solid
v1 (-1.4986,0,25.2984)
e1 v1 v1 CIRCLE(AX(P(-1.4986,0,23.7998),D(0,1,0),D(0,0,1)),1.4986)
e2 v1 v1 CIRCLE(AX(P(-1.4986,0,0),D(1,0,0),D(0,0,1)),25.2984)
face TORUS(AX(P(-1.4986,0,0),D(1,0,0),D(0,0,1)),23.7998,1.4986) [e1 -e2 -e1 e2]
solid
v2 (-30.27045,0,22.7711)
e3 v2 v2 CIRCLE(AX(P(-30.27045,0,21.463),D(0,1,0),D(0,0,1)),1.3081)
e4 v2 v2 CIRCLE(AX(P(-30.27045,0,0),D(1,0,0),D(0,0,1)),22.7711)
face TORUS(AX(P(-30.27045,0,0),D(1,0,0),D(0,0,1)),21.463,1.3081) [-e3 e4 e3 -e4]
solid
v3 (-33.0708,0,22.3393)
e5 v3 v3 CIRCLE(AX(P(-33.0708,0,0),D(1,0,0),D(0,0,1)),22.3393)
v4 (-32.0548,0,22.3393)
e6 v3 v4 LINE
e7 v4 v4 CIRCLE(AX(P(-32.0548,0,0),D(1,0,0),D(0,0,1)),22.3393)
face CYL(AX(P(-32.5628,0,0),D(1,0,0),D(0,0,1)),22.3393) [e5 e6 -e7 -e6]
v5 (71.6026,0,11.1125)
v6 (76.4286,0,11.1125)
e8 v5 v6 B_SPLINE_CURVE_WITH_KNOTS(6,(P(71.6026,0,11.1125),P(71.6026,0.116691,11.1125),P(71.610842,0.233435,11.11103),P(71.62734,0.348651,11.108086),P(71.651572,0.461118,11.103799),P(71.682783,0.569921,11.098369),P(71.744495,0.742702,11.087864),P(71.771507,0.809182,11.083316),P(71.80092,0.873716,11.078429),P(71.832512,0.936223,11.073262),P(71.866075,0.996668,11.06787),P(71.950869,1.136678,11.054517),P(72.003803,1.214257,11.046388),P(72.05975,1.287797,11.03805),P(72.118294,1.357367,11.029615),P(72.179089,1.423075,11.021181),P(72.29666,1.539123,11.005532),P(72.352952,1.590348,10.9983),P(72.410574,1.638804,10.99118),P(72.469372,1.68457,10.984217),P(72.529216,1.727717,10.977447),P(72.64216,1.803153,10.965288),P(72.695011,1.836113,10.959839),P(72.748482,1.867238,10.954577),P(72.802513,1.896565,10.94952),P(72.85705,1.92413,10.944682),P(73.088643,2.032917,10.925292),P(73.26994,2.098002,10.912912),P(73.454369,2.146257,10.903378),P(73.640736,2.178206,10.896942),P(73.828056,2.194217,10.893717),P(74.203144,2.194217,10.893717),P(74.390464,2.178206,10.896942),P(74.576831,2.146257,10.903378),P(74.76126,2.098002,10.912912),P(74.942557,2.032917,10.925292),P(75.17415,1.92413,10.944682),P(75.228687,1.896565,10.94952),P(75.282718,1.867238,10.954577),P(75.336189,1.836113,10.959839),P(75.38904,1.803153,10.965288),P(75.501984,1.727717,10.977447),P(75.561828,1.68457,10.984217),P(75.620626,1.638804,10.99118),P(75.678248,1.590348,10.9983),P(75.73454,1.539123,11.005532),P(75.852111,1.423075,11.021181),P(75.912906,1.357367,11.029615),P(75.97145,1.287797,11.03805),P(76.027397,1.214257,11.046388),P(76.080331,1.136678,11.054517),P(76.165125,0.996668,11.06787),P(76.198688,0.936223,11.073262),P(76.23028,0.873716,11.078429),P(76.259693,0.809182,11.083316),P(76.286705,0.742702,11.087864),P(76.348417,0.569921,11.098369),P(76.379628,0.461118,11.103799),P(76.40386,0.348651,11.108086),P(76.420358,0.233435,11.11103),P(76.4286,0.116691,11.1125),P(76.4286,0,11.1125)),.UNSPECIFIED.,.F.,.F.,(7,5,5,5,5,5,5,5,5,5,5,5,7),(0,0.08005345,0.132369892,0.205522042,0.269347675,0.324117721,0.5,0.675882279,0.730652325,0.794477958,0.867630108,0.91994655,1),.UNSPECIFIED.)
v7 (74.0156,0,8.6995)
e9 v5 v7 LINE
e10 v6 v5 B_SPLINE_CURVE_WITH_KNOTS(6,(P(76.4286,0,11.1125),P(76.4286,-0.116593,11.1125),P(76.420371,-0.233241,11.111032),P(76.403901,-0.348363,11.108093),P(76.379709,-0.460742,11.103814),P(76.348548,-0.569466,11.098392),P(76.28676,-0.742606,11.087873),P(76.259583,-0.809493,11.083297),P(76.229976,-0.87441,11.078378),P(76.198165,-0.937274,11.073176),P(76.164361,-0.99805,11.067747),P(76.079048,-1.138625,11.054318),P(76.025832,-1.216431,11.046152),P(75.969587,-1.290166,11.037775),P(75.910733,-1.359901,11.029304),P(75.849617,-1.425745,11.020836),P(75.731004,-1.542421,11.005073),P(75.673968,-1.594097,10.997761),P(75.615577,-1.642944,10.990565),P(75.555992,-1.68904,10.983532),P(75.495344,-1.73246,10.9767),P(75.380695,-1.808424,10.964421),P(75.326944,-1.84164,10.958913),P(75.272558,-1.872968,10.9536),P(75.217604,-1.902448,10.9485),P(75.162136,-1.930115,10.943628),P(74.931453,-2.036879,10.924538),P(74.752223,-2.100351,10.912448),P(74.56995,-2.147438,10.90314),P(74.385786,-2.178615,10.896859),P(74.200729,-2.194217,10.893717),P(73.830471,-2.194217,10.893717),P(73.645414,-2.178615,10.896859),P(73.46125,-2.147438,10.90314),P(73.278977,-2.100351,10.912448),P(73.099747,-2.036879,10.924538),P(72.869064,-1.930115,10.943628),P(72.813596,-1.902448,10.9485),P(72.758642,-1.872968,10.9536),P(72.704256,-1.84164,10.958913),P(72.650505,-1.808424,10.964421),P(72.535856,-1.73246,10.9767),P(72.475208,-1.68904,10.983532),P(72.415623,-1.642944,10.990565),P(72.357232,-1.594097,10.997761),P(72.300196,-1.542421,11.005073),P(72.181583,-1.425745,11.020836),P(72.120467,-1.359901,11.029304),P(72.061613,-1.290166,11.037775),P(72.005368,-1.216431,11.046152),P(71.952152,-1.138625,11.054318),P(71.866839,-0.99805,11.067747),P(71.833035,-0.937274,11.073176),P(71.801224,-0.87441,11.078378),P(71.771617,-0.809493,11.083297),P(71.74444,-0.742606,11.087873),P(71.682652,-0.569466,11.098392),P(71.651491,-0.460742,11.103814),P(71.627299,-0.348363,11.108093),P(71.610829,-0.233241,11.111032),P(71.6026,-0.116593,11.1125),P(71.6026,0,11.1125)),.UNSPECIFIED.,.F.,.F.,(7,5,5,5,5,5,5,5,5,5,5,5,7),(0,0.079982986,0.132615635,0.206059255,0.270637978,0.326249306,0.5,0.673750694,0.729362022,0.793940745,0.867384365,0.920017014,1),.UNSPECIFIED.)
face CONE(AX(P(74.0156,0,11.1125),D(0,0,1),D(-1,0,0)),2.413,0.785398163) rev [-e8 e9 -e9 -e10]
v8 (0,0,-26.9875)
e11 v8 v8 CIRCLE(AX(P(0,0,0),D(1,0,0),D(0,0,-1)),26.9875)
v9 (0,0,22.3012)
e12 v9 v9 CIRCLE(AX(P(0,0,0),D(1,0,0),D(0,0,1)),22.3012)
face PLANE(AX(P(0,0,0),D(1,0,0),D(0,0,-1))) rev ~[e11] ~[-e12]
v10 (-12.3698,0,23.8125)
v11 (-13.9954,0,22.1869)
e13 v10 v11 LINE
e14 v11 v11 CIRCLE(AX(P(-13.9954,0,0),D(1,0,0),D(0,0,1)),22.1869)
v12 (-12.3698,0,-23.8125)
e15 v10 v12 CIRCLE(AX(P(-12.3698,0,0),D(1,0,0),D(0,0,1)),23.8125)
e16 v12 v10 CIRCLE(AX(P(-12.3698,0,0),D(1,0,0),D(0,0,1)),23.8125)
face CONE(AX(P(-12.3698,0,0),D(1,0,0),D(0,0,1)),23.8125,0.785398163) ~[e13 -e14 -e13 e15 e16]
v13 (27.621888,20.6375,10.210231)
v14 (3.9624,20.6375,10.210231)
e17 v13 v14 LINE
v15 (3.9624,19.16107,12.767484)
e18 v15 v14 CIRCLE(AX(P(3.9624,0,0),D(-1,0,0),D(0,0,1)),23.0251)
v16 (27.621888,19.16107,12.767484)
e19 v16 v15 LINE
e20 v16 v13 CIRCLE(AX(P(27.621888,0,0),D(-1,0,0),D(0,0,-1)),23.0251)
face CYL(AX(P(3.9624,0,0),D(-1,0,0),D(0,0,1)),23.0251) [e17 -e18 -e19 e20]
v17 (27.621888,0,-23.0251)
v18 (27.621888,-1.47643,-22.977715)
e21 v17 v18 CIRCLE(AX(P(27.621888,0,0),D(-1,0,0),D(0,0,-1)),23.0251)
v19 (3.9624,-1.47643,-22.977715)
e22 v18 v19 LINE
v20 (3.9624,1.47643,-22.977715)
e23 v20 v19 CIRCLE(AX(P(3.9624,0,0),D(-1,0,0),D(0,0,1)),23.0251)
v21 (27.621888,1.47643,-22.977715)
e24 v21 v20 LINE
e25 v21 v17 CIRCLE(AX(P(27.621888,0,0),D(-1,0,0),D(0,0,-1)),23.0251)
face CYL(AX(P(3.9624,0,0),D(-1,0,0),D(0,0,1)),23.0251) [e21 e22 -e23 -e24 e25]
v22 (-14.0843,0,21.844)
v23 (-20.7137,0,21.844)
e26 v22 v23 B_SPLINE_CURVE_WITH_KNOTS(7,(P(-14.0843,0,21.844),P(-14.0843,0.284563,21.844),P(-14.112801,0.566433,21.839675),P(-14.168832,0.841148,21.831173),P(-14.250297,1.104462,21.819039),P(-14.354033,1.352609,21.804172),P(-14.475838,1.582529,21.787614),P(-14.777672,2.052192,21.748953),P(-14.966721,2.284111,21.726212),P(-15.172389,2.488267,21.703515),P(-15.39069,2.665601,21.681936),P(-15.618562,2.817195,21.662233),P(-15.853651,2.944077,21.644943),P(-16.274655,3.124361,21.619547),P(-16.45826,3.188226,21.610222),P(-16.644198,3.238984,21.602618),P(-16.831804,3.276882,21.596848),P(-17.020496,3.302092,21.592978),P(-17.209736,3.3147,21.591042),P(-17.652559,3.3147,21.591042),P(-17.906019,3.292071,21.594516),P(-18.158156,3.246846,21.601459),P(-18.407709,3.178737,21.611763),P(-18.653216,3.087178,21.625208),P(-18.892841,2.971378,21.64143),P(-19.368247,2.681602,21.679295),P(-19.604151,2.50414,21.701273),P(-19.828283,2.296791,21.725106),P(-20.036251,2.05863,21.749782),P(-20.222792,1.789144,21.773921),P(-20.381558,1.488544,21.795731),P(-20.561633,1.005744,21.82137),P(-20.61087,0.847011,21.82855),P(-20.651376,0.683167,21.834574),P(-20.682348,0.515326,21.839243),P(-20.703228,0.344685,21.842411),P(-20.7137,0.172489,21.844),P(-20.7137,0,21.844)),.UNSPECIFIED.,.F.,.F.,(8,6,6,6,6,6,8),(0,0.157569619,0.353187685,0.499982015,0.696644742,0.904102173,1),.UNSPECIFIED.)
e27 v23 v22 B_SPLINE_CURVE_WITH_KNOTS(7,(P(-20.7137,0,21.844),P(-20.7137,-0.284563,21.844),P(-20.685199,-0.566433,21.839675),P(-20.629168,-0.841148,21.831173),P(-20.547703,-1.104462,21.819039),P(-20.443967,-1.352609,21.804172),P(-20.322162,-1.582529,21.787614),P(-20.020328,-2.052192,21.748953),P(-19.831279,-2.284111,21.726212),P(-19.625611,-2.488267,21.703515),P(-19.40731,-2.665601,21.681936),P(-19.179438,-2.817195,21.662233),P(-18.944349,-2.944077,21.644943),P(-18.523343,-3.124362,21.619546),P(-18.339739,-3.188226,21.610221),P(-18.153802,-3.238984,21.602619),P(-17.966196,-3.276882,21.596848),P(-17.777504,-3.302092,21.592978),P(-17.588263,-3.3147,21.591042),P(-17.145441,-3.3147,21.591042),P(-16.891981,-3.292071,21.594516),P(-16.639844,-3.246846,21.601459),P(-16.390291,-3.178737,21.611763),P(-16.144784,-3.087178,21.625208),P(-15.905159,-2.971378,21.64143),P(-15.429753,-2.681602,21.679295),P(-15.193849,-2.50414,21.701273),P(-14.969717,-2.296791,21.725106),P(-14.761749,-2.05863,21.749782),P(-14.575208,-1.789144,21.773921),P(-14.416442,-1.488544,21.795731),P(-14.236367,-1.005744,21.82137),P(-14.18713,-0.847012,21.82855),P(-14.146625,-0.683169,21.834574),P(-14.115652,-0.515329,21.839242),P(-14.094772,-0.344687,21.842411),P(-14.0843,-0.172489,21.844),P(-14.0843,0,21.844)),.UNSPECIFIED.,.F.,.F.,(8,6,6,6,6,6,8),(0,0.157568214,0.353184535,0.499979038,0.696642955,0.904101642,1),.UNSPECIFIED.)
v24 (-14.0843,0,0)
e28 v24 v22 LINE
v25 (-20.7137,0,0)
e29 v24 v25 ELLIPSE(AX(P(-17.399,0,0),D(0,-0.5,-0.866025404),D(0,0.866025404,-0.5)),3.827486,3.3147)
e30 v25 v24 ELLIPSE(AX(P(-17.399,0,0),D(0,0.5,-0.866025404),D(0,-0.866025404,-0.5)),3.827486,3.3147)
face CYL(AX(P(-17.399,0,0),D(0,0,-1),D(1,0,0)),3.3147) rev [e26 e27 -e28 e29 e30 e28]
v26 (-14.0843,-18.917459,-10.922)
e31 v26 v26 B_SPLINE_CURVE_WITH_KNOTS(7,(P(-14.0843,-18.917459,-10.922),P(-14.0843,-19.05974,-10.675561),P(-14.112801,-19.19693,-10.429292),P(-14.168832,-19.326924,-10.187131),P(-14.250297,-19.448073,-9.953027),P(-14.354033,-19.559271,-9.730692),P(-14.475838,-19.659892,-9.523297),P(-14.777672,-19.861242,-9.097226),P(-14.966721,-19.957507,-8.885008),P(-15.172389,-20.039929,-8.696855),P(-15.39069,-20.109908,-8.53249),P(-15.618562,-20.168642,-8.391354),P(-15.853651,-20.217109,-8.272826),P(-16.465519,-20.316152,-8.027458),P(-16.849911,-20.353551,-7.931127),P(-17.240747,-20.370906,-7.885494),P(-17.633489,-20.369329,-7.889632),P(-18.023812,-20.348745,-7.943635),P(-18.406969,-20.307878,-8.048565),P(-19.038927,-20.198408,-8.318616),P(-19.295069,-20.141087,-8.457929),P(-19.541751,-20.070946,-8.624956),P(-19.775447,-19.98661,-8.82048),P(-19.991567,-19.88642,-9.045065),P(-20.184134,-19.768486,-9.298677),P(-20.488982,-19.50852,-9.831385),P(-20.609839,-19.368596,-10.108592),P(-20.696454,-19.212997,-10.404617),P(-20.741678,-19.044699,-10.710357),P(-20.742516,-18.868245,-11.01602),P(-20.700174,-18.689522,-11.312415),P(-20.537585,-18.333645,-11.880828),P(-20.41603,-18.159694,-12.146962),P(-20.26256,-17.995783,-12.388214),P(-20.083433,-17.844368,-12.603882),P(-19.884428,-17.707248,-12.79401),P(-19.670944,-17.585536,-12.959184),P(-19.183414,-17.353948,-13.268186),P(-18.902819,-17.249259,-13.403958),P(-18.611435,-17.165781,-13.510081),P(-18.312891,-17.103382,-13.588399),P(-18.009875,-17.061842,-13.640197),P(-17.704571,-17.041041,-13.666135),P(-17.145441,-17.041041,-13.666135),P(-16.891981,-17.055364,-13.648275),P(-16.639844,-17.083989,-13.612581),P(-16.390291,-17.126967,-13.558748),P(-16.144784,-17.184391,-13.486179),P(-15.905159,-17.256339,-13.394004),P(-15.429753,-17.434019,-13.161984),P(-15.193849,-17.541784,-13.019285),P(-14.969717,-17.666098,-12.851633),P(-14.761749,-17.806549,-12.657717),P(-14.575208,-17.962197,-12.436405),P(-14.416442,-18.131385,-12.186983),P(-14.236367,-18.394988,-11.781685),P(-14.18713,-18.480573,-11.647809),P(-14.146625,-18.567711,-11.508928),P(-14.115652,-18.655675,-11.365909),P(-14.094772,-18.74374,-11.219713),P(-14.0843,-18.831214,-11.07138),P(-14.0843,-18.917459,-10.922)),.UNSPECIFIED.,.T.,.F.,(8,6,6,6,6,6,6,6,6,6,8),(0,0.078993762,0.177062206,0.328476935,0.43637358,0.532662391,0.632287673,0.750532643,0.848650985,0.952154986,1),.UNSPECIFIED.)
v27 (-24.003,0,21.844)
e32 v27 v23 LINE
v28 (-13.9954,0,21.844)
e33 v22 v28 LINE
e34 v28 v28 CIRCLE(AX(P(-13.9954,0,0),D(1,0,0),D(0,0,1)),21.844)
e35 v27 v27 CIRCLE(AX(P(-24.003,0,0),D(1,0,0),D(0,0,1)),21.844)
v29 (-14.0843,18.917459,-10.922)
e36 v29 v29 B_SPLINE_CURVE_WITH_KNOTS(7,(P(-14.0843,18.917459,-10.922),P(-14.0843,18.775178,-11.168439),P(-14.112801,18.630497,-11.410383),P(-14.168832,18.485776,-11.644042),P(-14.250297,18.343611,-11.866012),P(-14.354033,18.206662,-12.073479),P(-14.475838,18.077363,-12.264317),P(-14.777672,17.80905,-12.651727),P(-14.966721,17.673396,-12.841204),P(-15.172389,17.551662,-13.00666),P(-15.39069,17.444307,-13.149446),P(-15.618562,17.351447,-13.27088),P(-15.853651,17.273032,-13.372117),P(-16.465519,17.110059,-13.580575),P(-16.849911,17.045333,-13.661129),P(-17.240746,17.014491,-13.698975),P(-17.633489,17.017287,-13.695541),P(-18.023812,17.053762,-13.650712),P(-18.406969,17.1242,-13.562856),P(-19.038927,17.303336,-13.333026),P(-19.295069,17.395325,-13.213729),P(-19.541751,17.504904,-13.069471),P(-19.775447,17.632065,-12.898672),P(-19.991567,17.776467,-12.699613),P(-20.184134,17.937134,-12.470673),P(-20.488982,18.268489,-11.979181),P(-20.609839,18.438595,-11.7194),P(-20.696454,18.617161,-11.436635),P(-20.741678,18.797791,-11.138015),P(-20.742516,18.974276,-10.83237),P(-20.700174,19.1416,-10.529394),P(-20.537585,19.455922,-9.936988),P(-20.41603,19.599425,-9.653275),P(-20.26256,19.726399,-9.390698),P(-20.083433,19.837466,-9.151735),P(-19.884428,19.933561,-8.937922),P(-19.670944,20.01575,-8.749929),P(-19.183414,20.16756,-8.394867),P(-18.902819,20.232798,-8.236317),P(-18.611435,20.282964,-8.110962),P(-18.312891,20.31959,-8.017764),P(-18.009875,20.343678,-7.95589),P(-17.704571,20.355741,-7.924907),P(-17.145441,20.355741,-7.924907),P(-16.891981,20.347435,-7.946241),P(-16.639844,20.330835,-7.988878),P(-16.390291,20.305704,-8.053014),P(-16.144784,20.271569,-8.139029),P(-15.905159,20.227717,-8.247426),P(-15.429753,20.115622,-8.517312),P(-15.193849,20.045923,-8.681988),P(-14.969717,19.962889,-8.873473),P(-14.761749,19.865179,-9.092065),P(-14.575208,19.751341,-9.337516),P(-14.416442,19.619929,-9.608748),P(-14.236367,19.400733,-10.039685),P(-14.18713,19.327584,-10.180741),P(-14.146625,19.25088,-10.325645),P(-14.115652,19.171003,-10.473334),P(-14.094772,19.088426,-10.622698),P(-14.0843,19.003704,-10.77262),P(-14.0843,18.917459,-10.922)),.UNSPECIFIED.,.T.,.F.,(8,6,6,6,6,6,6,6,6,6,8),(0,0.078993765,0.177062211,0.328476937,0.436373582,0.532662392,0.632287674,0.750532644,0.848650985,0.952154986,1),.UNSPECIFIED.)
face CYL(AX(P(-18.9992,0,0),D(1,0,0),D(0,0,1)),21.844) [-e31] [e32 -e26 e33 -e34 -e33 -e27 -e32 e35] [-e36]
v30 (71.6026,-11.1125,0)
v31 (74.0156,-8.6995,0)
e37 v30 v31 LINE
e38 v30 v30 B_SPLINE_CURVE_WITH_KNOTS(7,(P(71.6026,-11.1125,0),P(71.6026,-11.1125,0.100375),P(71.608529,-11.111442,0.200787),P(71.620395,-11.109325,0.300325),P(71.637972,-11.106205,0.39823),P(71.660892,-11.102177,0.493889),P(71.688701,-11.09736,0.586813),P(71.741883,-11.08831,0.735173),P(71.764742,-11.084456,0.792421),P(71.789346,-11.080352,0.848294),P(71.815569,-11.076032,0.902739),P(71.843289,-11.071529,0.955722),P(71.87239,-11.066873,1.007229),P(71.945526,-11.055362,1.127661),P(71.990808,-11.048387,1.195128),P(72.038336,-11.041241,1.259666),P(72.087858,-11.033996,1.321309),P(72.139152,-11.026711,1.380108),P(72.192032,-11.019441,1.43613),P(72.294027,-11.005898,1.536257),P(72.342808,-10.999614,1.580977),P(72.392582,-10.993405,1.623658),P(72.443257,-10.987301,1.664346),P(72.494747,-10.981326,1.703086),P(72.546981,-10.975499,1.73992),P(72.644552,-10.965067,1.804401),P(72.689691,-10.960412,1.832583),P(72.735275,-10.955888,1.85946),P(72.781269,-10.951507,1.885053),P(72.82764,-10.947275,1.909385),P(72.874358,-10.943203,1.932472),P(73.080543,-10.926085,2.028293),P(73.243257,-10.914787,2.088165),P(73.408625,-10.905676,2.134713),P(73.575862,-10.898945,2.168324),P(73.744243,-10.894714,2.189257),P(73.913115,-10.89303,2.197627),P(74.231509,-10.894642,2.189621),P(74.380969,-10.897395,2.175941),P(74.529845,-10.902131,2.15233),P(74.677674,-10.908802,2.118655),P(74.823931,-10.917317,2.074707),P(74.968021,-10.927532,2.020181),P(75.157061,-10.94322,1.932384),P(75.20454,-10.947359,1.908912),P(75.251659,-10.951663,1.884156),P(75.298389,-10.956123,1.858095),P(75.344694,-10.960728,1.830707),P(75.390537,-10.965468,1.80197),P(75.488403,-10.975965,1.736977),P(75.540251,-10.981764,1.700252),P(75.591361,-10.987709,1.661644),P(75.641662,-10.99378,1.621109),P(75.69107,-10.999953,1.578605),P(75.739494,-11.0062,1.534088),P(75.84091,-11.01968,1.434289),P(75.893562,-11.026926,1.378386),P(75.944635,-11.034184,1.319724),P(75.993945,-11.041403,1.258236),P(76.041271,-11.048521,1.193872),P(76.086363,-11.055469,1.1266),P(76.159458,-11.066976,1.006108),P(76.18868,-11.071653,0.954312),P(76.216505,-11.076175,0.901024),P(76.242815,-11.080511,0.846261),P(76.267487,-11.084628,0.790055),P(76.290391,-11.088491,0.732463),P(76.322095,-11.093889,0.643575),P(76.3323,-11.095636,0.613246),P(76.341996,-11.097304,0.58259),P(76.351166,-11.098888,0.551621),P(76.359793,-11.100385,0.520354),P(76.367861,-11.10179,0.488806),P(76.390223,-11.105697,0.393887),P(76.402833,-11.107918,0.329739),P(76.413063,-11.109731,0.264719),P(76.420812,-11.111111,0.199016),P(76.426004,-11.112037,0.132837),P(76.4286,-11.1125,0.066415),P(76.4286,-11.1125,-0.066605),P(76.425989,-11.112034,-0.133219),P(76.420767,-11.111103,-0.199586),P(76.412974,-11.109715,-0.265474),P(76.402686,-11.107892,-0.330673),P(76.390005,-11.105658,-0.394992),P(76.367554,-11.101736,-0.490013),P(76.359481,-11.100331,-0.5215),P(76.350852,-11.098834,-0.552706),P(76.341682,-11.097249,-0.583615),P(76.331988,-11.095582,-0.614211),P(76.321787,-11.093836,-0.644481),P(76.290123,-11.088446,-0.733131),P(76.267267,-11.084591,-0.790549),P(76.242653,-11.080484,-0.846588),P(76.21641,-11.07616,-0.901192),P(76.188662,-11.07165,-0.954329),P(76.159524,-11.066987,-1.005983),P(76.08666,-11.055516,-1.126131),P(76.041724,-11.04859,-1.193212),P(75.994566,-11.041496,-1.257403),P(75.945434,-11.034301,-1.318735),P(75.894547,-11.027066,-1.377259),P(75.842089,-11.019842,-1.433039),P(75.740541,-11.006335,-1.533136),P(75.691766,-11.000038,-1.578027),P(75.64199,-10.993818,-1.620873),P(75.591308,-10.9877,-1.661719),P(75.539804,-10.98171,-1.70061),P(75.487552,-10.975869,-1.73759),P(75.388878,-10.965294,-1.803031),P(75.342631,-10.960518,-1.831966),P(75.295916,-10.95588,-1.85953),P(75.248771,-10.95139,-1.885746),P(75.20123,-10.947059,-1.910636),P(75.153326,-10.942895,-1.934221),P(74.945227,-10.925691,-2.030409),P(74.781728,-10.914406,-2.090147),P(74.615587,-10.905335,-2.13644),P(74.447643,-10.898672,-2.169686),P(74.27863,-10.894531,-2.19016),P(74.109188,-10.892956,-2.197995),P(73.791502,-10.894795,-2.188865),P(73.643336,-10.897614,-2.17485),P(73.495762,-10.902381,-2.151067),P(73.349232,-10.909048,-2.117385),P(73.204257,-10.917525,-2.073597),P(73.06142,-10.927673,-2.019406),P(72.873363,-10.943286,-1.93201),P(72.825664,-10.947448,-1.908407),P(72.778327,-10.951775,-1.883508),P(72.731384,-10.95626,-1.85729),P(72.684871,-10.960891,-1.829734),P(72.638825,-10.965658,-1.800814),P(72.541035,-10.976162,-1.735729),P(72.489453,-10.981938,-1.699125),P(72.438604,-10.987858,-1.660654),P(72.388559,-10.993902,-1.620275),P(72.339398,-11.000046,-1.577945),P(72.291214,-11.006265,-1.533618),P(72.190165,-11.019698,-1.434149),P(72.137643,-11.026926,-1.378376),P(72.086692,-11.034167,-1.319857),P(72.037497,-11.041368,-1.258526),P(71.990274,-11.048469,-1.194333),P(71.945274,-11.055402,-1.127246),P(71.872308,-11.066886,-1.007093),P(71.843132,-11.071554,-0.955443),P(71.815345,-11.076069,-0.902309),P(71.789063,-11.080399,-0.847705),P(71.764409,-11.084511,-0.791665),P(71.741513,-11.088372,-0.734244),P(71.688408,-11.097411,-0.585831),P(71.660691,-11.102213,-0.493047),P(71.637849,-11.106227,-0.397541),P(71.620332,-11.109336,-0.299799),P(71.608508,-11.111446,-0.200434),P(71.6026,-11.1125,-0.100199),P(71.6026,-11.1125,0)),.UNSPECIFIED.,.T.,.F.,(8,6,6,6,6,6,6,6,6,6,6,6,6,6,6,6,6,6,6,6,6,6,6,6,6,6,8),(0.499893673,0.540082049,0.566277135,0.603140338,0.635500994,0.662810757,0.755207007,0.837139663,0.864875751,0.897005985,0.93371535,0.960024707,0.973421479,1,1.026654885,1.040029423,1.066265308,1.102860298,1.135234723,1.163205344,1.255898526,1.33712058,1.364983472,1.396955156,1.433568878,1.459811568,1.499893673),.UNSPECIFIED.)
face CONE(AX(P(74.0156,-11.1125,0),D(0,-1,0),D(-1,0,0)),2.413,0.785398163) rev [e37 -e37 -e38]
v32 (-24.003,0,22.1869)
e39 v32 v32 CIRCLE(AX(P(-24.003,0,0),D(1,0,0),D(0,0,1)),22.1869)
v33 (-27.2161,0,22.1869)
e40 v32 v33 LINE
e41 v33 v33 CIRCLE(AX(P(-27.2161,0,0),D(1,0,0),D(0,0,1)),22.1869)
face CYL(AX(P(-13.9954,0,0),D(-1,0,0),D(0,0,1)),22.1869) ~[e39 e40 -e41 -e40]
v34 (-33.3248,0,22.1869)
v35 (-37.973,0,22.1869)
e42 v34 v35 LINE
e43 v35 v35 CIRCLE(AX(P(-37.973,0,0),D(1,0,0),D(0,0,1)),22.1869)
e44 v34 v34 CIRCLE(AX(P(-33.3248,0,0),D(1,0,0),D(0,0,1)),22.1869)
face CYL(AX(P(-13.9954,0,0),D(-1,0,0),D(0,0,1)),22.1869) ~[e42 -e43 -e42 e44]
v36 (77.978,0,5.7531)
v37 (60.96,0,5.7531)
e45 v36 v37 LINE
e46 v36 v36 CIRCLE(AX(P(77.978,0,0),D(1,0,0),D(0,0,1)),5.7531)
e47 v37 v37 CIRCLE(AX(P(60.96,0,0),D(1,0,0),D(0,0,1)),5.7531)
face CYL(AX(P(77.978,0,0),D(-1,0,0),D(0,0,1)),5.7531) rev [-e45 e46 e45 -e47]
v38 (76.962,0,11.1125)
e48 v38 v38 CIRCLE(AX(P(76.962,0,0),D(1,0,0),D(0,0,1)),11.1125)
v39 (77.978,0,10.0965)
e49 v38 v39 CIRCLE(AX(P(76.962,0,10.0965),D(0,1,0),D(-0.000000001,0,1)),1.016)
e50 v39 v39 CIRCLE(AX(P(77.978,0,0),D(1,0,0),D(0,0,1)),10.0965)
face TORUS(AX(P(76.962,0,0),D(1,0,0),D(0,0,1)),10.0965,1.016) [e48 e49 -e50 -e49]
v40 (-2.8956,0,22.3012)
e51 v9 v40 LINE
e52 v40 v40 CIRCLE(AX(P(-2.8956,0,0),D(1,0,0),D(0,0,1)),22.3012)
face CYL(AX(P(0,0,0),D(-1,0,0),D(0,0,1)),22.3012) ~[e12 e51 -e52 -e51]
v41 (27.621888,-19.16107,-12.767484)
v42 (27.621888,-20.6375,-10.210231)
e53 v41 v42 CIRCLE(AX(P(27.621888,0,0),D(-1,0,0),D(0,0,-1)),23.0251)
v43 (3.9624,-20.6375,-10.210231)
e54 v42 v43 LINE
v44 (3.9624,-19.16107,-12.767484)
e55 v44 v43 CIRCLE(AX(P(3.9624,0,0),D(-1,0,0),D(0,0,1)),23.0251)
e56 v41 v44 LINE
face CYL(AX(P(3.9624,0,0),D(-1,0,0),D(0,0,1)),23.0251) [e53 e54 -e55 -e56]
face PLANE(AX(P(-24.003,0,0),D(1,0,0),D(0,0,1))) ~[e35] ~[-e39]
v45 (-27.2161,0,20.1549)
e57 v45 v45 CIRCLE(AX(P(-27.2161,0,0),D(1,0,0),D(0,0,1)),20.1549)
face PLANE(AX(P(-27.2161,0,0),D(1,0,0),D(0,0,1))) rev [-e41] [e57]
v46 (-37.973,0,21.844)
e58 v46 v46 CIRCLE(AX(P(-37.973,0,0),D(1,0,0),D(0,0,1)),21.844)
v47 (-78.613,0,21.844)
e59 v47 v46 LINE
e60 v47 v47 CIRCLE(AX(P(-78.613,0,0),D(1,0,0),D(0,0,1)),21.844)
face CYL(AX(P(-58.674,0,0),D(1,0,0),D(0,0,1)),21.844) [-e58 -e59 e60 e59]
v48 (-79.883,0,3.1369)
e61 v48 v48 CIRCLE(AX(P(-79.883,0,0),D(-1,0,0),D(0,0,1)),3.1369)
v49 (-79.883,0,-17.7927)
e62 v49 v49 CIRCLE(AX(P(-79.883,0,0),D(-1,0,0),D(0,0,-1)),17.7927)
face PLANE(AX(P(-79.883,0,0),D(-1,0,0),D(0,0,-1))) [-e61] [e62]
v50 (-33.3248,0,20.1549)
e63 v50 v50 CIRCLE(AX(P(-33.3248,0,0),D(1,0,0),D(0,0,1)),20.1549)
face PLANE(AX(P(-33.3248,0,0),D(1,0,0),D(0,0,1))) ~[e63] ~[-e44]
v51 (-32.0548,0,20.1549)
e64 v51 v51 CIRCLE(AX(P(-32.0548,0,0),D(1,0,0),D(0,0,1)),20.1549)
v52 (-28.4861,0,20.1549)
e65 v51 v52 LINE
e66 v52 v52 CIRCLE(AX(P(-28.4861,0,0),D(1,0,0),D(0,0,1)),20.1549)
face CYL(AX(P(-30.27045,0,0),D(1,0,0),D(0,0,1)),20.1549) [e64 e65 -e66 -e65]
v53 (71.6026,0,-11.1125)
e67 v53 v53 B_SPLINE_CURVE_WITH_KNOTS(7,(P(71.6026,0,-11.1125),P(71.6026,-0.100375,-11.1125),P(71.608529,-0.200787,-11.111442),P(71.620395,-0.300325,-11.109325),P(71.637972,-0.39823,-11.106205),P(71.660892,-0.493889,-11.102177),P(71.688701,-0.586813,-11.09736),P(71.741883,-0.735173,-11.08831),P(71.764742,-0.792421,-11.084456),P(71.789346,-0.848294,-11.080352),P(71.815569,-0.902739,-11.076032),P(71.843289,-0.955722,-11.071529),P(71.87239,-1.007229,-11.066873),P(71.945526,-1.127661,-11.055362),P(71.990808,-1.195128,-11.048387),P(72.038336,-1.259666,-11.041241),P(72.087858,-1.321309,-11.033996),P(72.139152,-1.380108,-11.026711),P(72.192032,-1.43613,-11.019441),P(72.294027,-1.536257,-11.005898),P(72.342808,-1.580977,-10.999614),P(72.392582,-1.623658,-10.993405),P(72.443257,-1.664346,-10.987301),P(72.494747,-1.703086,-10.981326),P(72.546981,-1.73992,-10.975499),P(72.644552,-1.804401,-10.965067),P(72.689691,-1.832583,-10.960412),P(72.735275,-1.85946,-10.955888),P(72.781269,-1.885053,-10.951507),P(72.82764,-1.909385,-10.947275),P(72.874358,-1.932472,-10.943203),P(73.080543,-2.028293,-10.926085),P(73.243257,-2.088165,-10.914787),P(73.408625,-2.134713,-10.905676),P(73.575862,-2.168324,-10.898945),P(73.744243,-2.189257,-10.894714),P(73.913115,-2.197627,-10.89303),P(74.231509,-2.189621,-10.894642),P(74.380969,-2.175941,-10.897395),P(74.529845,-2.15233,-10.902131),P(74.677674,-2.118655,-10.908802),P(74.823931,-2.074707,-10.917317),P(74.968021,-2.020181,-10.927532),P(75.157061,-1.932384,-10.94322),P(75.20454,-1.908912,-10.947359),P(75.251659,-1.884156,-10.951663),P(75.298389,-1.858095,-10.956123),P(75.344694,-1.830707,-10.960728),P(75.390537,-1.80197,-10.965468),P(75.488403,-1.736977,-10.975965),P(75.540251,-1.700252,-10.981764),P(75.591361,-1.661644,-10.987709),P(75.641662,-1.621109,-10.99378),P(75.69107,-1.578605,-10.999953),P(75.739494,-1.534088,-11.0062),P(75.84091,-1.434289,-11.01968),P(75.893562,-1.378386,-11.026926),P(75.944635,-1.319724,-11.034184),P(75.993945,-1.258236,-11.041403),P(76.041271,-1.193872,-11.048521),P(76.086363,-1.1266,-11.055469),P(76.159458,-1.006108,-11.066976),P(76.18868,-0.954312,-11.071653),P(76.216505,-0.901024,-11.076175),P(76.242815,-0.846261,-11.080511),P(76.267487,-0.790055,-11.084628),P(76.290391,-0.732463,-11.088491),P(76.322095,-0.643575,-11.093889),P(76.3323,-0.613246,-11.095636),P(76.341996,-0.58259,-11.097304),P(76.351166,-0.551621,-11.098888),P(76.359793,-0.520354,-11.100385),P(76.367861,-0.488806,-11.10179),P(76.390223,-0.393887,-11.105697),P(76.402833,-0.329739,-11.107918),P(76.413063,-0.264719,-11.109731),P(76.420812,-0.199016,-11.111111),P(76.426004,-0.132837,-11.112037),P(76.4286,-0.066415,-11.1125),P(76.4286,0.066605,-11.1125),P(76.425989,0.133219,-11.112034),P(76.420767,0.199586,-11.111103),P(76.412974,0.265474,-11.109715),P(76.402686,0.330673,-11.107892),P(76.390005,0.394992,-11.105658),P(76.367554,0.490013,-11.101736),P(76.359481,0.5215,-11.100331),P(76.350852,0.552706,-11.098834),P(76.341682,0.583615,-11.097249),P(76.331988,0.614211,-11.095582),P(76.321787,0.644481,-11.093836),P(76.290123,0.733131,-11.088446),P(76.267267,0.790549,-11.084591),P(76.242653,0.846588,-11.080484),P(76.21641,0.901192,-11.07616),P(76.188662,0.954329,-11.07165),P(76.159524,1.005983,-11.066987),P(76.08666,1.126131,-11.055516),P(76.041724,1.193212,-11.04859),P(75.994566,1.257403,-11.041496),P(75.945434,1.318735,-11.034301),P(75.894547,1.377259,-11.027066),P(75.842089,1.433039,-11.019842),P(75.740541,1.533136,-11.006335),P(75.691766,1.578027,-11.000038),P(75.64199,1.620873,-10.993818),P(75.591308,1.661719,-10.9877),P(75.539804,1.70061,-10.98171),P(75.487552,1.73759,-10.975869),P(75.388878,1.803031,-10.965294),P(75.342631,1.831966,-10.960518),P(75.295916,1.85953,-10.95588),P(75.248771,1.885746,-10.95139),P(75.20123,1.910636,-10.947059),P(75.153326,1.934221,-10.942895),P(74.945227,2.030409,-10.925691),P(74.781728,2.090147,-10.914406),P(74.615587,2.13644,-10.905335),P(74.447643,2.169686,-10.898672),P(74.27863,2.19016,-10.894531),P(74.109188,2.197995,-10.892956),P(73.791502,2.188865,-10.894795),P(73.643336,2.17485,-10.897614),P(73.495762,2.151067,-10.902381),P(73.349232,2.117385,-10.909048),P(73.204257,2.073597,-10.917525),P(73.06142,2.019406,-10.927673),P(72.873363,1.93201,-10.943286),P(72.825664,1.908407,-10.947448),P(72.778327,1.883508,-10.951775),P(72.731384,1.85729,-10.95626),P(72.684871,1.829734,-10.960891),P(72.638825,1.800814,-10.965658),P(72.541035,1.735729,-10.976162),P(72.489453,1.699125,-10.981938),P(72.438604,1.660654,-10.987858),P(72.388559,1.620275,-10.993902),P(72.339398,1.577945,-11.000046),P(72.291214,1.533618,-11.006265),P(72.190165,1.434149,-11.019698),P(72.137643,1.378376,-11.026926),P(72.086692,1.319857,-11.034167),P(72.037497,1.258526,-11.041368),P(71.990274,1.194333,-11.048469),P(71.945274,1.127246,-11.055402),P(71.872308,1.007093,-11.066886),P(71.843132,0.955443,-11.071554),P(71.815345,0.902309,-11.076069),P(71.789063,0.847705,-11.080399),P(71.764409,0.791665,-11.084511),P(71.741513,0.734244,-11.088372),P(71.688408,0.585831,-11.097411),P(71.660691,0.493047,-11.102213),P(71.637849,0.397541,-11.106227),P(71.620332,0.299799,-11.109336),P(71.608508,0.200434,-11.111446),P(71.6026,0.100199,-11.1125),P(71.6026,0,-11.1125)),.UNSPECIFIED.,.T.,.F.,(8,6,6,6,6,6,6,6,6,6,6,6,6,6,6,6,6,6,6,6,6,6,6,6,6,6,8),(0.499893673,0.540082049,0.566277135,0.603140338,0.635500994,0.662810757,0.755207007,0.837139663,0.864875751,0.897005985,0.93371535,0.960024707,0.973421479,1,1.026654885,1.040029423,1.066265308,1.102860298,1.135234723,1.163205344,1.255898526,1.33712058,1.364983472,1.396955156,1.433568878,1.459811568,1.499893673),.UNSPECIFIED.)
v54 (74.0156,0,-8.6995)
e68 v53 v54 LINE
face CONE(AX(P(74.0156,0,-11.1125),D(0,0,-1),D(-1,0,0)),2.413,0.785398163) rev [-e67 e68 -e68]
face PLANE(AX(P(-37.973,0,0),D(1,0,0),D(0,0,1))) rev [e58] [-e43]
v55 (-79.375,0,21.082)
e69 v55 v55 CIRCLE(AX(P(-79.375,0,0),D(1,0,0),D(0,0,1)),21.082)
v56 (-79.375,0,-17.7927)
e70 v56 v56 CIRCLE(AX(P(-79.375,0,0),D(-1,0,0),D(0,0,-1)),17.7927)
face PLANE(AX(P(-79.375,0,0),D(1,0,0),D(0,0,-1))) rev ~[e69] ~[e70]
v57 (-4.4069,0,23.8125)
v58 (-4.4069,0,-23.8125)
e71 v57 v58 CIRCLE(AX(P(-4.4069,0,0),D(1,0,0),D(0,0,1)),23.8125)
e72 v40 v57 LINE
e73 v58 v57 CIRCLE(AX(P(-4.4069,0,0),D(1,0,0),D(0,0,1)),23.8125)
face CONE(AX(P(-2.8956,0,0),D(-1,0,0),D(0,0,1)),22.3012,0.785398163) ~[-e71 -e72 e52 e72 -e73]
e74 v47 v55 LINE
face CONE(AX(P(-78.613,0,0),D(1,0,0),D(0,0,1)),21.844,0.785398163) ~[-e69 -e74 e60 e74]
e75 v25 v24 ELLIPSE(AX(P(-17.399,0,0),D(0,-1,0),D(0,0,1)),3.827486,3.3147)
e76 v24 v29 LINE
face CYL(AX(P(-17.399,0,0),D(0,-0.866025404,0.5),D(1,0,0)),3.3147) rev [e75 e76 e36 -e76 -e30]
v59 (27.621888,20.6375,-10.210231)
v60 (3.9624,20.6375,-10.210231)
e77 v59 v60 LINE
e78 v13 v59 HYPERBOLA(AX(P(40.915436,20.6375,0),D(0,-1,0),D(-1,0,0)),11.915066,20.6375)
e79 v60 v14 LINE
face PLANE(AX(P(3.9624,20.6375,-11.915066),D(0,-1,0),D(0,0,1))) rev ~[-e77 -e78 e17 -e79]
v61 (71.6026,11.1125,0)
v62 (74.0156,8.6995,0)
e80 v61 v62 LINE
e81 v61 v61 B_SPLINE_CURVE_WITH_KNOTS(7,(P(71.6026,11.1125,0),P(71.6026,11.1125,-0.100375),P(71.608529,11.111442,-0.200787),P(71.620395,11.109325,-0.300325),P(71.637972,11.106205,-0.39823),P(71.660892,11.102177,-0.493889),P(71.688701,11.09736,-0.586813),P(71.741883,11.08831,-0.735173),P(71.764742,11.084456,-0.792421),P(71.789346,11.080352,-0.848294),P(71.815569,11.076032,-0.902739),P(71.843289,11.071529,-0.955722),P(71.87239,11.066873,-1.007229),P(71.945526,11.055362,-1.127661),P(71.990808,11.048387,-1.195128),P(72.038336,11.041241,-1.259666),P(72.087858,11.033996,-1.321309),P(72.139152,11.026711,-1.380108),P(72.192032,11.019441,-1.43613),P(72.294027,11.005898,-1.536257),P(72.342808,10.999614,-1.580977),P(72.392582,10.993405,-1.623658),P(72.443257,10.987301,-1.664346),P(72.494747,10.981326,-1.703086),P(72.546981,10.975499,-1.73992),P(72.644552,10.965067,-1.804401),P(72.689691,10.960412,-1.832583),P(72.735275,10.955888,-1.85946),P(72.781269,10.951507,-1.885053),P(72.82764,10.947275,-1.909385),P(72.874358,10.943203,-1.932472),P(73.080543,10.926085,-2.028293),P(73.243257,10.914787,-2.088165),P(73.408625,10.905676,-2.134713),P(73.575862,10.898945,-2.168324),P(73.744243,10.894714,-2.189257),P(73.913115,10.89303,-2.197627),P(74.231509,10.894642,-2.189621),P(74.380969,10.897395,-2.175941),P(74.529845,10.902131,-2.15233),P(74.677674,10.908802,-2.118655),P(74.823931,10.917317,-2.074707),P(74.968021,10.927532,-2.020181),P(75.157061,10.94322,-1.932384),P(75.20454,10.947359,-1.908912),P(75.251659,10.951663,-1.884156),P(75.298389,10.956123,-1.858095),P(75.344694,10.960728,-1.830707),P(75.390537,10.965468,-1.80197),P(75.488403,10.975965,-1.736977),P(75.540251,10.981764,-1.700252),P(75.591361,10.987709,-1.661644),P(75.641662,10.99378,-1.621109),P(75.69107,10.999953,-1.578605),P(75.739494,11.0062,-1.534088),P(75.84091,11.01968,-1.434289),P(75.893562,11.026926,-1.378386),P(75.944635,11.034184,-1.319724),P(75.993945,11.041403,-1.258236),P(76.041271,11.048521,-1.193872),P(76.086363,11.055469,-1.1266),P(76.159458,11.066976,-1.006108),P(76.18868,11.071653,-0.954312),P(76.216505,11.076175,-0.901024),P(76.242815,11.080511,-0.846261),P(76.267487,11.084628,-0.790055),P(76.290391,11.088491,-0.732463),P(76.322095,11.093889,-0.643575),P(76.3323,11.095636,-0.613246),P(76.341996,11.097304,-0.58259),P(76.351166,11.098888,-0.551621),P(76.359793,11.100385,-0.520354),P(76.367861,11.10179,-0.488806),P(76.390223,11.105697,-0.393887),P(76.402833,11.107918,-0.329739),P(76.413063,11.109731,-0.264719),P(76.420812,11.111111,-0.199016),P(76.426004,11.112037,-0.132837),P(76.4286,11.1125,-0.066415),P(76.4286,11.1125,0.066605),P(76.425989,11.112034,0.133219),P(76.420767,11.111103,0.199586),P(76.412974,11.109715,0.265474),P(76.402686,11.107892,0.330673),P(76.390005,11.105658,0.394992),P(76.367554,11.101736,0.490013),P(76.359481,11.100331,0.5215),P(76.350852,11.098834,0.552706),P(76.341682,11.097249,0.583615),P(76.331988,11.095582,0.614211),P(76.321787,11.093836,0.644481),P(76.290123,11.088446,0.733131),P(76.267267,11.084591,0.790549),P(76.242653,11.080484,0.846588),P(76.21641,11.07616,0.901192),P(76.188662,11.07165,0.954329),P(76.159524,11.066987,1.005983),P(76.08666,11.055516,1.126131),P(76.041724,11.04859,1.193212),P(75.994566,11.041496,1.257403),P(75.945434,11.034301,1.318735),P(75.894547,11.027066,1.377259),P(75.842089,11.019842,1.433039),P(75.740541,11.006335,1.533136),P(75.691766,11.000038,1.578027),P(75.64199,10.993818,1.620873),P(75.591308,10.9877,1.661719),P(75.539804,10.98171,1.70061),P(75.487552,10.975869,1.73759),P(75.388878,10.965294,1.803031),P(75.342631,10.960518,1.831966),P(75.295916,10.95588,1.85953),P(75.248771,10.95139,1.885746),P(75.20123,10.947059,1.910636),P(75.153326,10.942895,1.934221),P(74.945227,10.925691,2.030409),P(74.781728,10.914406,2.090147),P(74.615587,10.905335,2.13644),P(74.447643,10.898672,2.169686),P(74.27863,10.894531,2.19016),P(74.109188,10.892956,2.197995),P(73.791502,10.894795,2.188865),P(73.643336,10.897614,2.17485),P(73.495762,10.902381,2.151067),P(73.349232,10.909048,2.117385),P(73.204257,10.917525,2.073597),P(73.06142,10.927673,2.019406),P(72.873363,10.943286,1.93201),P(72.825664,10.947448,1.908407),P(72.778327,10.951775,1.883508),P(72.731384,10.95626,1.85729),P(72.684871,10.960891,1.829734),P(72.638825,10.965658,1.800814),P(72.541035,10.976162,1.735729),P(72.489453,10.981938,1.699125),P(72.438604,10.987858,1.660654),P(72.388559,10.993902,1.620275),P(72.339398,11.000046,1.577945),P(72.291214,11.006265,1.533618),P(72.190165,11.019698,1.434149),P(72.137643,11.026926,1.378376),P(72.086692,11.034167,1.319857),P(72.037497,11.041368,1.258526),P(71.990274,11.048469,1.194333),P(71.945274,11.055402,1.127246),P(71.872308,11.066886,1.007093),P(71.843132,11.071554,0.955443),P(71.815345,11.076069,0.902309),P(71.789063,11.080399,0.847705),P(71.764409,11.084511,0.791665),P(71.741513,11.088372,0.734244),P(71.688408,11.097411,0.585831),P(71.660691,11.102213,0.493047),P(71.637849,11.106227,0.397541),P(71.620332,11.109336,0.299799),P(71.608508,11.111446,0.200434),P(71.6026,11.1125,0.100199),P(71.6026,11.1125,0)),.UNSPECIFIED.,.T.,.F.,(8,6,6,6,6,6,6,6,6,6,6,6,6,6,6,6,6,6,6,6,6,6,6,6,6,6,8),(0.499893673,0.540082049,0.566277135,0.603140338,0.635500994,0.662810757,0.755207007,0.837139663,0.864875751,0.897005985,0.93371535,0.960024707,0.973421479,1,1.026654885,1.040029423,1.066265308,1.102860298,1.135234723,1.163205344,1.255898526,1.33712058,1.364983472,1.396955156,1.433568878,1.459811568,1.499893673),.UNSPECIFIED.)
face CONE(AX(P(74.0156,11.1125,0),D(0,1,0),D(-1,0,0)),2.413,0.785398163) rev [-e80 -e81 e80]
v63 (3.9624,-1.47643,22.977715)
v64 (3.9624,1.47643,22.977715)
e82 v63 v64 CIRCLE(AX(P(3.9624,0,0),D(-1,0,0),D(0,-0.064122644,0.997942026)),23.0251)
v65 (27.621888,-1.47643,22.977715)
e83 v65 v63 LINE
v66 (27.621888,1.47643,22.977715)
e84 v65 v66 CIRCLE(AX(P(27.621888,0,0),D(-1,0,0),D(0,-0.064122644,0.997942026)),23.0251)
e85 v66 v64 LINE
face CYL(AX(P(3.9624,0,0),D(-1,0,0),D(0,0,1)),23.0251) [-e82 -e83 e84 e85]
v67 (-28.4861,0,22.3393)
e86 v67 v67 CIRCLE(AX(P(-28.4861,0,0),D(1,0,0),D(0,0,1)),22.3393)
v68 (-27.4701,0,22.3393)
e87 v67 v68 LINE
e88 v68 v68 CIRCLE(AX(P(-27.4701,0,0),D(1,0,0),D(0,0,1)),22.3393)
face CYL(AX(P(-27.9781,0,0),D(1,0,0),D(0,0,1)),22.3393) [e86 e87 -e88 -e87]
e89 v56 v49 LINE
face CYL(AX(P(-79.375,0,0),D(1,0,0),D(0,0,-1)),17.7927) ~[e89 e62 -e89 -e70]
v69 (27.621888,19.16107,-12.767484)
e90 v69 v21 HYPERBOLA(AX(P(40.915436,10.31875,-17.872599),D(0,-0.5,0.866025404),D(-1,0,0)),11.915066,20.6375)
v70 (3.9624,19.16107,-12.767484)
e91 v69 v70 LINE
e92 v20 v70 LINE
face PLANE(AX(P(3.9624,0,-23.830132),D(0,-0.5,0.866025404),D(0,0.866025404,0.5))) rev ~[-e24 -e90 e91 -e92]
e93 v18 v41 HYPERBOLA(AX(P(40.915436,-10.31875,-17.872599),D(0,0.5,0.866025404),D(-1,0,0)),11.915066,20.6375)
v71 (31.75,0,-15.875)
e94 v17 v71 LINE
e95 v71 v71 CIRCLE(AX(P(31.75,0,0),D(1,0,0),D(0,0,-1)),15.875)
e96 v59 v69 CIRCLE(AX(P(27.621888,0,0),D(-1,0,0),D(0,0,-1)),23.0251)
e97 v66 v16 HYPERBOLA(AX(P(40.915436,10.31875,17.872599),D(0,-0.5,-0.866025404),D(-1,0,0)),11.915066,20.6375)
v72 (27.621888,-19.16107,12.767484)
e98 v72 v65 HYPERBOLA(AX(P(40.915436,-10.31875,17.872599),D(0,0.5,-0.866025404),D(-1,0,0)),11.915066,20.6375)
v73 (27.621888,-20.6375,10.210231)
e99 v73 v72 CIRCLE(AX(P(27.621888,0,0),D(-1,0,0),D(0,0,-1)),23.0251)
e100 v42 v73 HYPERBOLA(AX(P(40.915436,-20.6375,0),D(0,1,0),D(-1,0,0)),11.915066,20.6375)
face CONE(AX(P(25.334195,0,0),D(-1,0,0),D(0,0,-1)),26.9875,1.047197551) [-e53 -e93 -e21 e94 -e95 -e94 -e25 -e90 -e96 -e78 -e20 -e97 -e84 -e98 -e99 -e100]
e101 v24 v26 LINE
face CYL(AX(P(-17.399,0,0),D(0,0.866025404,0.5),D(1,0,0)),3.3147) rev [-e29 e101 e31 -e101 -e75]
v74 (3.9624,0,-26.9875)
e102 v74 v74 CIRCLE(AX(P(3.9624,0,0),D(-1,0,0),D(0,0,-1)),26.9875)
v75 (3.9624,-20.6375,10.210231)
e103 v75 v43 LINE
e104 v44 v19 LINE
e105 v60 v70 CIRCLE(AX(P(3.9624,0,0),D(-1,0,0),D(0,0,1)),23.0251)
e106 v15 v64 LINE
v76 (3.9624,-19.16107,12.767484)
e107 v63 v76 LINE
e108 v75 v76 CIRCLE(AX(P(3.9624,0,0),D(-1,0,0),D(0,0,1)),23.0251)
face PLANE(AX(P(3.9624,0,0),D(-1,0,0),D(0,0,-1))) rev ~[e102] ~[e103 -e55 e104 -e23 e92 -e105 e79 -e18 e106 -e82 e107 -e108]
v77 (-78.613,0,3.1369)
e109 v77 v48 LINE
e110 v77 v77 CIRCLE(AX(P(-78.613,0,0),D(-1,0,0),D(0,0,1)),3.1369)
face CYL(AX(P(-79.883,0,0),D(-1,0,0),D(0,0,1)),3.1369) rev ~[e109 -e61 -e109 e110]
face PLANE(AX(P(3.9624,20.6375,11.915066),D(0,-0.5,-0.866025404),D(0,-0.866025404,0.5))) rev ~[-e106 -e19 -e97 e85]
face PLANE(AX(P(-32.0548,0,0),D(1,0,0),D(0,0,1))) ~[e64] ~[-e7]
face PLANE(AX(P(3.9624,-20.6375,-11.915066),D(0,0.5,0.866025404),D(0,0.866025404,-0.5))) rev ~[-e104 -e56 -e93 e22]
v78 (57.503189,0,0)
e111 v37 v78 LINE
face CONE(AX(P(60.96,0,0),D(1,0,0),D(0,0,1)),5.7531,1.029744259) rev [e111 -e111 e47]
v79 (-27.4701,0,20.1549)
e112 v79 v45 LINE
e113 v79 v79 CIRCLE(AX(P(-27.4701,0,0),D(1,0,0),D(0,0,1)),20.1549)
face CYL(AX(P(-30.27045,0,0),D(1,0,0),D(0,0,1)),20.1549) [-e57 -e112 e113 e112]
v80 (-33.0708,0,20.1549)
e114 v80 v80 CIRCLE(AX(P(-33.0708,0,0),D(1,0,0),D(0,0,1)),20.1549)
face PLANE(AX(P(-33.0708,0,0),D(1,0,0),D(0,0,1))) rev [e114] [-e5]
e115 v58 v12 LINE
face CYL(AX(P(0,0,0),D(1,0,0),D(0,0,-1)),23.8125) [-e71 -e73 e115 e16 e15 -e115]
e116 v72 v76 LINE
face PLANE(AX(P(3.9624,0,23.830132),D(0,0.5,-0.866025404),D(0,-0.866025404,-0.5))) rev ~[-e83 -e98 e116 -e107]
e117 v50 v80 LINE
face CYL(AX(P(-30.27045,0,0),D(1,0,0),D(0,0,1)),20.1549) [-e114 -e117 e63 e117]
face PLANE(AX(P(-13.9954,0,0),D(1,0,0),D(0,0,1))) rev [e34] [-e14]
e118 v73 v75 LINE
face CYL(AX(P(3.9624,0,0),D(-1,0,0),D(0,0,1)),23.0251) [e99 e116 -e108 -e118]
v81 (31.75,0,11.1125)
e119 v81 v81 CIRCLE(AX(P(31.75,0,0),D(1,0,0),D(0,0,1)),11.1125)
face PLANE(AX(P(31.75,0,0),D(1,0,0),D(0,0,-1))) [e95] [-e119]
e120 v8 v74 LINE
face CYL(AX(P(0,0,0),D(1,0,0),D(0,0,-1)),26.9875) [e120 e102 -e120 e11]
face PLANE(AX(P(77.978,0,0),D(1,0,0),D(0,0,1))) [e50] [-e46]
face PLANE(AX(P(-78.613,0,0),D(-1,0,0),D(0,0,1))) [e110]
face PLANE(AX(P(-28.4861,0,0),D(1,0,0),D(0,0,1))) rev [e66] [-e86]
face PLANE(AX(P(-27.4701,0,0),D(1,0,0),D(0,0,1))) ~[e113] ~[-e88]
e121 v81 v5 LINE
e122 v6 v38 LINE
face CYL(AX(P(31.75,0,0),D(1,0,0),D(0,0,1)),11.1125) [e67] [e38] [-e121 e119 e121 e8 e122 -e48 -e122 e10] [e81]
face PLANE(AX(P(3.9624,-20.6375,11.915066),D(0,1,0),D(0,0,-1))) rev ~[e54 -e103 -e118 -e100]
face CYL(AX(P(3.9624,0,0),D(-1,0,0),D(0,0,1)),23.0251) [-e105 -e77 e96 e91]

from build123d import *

# Parameters (mm, degrees)
SKETCH1_R           = 26.9875
EXTRUDE1_DEPTH      = 31.75
EXTRUDE1_DEPTH_BACK = 79.375
CUT_EXTRUDE1_REACH  = 81.375
SKETCH2_R           = 26.9875
SKETCH2_R_2         = 23.8125
CUT_EXTRUDE3_REACH  = 31.362
CUT_EXTRUDE3_START  = -0.7874
SKETCH5_R           = 26.9875
CUT_EXTRUDE5_REACH  = 29.788
SKETCH7_R           = 26.9875
SKETCH7_R_2         = 23.0251
SKETCH12_W          = 6.1087
SKETCH12_H          = 2.032
SKETCH14_W          = 0.3429
SKETCH14_H          = 41.402
SKETCH14_H_2        = 10.0076
SKETCH15_R          = 1.4986
SKETCH16_W          = 2.1844
SKETCH16_H          = 1.016
SKETCH17_R          = 1.3081
CIRPATTERN1_COUNT   = 4
CHAMFER1_SIZE       = 0.762
SKETCH23_R          = 3.3147
CUT_EXTRUDE7_DEPTH  = 27.9875
SKETCH26_R          = 3.1369
CUT_EXTRUDE8_DEPTH  = 0.762
SKETCH27_R          = 17.7927
EXTRUDE2_DEPTH      = 0.508
SKETCH28_R          = 3.1369
CUT_EXTRUDE9_DEPTH  = 0.508
CIRPATTERN2_COUNT   = 3


with BuildPart() as part:
    # Sketch1 → Extrude1 (new body, two sides)
    with BuildSketch(Plane(origin=(0, 0, 0), x_dir=(0, 0, -1), z_dir=(1, 0, 0))) as extrude1_sk:
        Circle(SKETCH1_R)
    extrude(amount=EXTRUDE1_DEPTH)
    extrude(extrude1_sk.sketch, amount=-EXTRUDE1_DEPTH_BACK)

    # Sketch2 → Cut-Extrude1 (cut, up to next)
    with BuildSketch(Plane(origin=(0, 0, 0), x_dir=(0, 0, -1), z_dir=(1, 0, 0)), mode=Mode.PRIVATE) as cut_extrude1_sk1:
        Circle(SKETCH2_R)
        Circle(SKETCH2_R_2, mode=Mode.SUBTRACT)
    cut_extrude1_tool1 = extrude(cut_extrude1_sk1.sketch, amount=-CUT_EXTRUDE1_REACH, mode=Mode.PRIVATE) & part.part
    add(cut_extrude1_tool1.solids().sort_by_distance((0, 0, 26.224178))[0], mode=Mode.SUBTRACT)

    # Sketch3 → Cut-Revolve1 (revolve, cut)
    with BuildSketch(Plane.XY, mode=Mode.PRIVATE) as cut_revolve1_sk:
        Polygon((25.334195134, 26.9875), (31.75, 15.875), (31.75, 26.9875), align=None)
    revolve(cut_revolve1_sk.sketch.rotate(Axis((-8.14577342, 0, 0), (1, 0, 0)), 270), axis=Axis((-8.14577342, 0, 0), (1, 0, 0)), mode=Mode.SUBTRACT)  # turned: the seam where the file's is

    # Cut-Extrude3: up to this cone (the profile starts inside it)
    cut_extrude3_end = Plane(origin=(3.9624, 0, 0), z_dir=(-1, 0, 0)).offset(-36.953034523) * Cone(1.732e-06, 230.050244421, 132.819569544, align=(Align.CENTER, Align.CENTER, Align.MIN), mode=Mode.PRIVATE)
    # Sketch5 → Cut-Extrude3 (cut, up to the surface)
    with BuildSketch(Plane.ZY.offset(-3.175).offset(CUT_EXTRUDE3_START), mode=Mode.PRIVATE) as cut_extrude3_sk1:
        with Locations(Location((0, 0, 0), (0, 0, 180))):  # turned: the seam where the file's is
            Circle(SKETCH5_R)
        Polygon((-11.91506618, 20.6375), (11.91506618, 20.6375), (23.830132361, 0), (11.91506618, -20.6375), (-11.91506618, -20.6375), (-23.830132361, 0), align=None, mode=Mode.SUBTRACT)
    cut_extrude3_tool1 = extrude(cut_extrude3_sk1.sketch, amount=-CUT_EXTRUDE3_REACH, mode=Mode.PRIVATE) & cut_extrude3_end
    add(cut_extrude3_tool1.solids().sort_by_distance((3.9624, 0, 26.224178))[0], mode=Mode.SUBTRACT)

    # Cut-Extrude5: up to this cone (the profile starts inside it)
    cut_extrude5_end = Plane(origin=(3.9624, 0, 0), z_dir=(-1, 0, 0)).offset(-36.953034523) * Cone(1.732e-06, 227.32399645, 131.245569544, align=(Align.CENTER, Align.CENTER, Align.MIN), mode=Mode.PRIVATE)
    # Sketch7 → Cut-Extrude5 (cut, up to the surface)
    with BuildSketch(Plane.ZY.offset(-3.9624), mode=Mode.PRIVATE) as cut_extrude5_sk1:
        with Locations(Location((0, 0, 0), (0, 0, 180))):  # turned: the seam where the file's is
            Circle(SKETCH7_R)
        Circle(SKETCH7_R_2, mode=Mode.SUBTRACT)
    cut_extrude5_tool1 = extrude(cut_extrude5_sk1.sketch, amount=-CUT_EXTRUDE5_REACH, mode=Mode.PRIVATE) & cut_extrude5_end
    add(cut_extrude5_tool1.solids().sort_by_distance((3.9624, 0, 26.224178))[0], mode=Mode.SUBTRACT)

    # Sketch9 → Cut-Revolve3 (revolve, cut)
    with BuildSketch(Plane.XY, mode=Mode.PRIVATE) as cut_revolve3_sk:
        Polygon((0, 23.8125), (0, 22.3012), (-2.8956, 22.3012), (-4.4069, 23.8125), align=None)
    revolve(cut_revolve3_sk.sketch.rotate(Axis((-4.4205525, 0, 0), (1, 0, 0)), 90), axis=Axis((-4.4205525, 0, 0), (1, 0, 0)), mode=Mode.SUBTRACT)  # turned: the seam where the file's is

    # Sketch10 → Cut-Revolve4 (revolve, cut)
    with BuildSketch(Plane.XY, mode=Mode.PRIVATE) as cut_revolve4_sk:
        Polygon((-12.3698, 23.8125), (-13.9954, 22.1869), (-79.375, 22.1869), (-79.375, 23.8125), align=None)
    revolve(cut_revolve4_sk.sketch.rotate(Axis((-55.9469925, 0, 0), (1, 0, 0)), 90), axis=Axis((-55.9469925, 0, 0), (1, 0, 0)), mode=Mode.SUBTRACT)  # turned: the seam where the file's is

    # Sketch12 → Cut-Revolve6 (revolve, cut)
    with BuildSketch(Plane.XY, mode=Mode.PRIVATE) as cut_revolve6_sk:
        with Locations((-30.27045, 21.1709)):
            Rectangle(SKETCH12_W, SKETCH12_H)
    revolve(cut_revolve6_sk.sketch.rotate(Axis((-31.750635, 0, 0), (1, 0, 0)), 90), axis=Axis((-31.750635, 0, 0), (1, 0, 0)), mode=Mode.SUBTRACT)  # turned: the seam where the file's is

    # Sketch14 → Cut-Revolve8 (revolve, cut)
    with BuildSketch(Plane(origin=(0, 0, 0), x_dir=(0, -1, 0), z_dir=(0, 0, 1)), mode=Mode.PRIVATE) as cut_revolve8_sk:
        with Locations((22.01545, -58.674)):
            Rectangle(SKETCH14_W, SKETCH14_H)
        with Locations((22.01545, -18.9992)):
            Rectangle(SKETCH14_W, SKETCH14_H_2)
    revolve(cut_revolve8_sk.sketch.rotate(Axis((-55.86603, 0, 0), (1, 0, 0)), 270), axis=Axis((-55.86603, 0, 0), (1, 0, 0)), mode=Mode.SUBTRACT)  # turned: the seam where the file's is

    # Sketch16 → Revolve2 (revolve)
    with BuildSketch(Plane(origin=(0, 0, 0), x_dir=(0, -1, 0), z_dir=(0, 0, 1)), mode=Mode.PRIVATE) as revolve2_sk:
        with Locations((21.2471, -27.9781)):
            Rectangle(SKETCH16_W, SKETCH16_H)
        with Locations((21.2471, -32.5628)):
            Rectangle(SKETCH16_W, SKETCH16_H)
    revolve(revolve2_sk.sketch.rotate(Axis((-31.471235, 0, 0), (1, 0, 0)), 270), axis=Axis((-31.471235, 0, 0), (1, 0, 0)))  # turned: the seam where the file's is

    # S2D0001 → Revolve4 (revolve)
    with BuildSketch(Plane(origin=(0, 0, 0), x_dir=(0, -1, 0), z_dir=(0, 0, 1)), mode=Mode.PRIVATE) as revolve4_sk:
        with BuildLine():
            Line((0, 31.75), (-11.1125, 31.75))
            Line((-11.1125, 31.75), (-11.1125, 76.962))
            ThreePointArc((-11.1125, 76.962), (-10.81492049, 77.68042049), (-10.0965, 77.978))
            Line((-10.0965, 77.978), (0, 77.978))
            Line((0, 77.978), (0, 31.75))
        make_face()
    revolve(revolve4_sk.sketch.rotate(Axis((7.265766347, 0, 0), (1, 0, 0)), 90), axis=Axis((7.265766347, 0, 0), (1, 0, 0)))  # turned: the seam where the file's is

    # Sketch19 → Cut-Revolve9 (revolve, cut)
    with BuildSketch(Plane(origin=(36.322, -2.8067, 0), x_dir=(0, -1, 0), z_dir=(0, 0, 1)), mode=Mode.PRIVATE) as cut_revolve9_sk:
        Polygon((2.9464, 41.656), (2.9464, 24.638), (-2.8067, 21.181188773), (-2.8067, 41.656), align=None)
    revolve(cut_revolve9_sk.sketch.rotate(Axis((17.699325537, 0, 0), (1, 0, 0)), 270), axis=Axis((17.699325537, 0, 0), (1, 0, 0)), mode=Mode.SUBTRACT)  # turned: the seam where the file's is

    # S2D0002 → Cut-Revolve10 (revolve, cut)
    with BuildSketch(Plane(origin=(32.3596, 0, -5.55625), x_dir=(1, 0, 0), z_dir=(0, 1, 0)), mode=Mode.PRIVATE) as cut_revolve10_sk:
        Polygon((41.656, 5.55625), (44.069, 5.55625), (41.656, 3.14325), align=None)
    cut_revolve10 = revolve(cut_revolve10_sk.sketch.rotate(Axis((74.0156, 0, -2.191027232), (0, 0, -1)), 180), axis=Axis((74.0156, 0, -2.191027232), (0, 0, -1)), mode=Mode.SUBTRACT)  # turned: the seam where the file's is

    # CirPattern1: Cut-Revolve10 ×4 about axis
    cirpattern1_axis = Axis((7.265766347, 0, 0), (-1, 0, 0))
    for i in range(1, CIRPATTERN1_COUNT):
        add(cut_revolve10.rotate(cirpattern1_axis, i * 360 / CIRPATTERN1_COUNT), mode=Mode.SUBTRACT)

    # Chamfer1
    chamfer1_edges = [part.edges().sort_by_distance(p)[0] for p in [
        (-79.375, 0, -21.844),
    ]]
    chamfer(chamfer1_edges, length=CHAMFER1_SIZE)

    # Sketch23 → Cut-Extrude7 (cut, through all)
    with BuildSketch(Plane.XY):
        with Locations((-17.399, 0)):
            Circle(SKETCH23_R)
    cut_extrude7 = extrude(amount=CUT_EXTRUDE7_DEPTH, mode=Mode.SUBTRACT)

    # Sketch26 → Cut-Extrude8 (cut)
    with BuildSketch(Plane.ZY.offset(79.375)):
        Circle(SKETCH26_R)
    extrude(amount=-CUT_EXTRUDE8_DEPTH, mode=Mode.SUBTRACT)

    # Sketch27 → Extrude2 (add)
    with BuildSketch(Plane.ZY.offset(79.375)):
        with Locations(Location((0, 0, 0), (0, 0, 180))):  # turned: the seam where the file's is
            Circle(SKETCH27_R)
    extrude(amount=EXTRUDE2_DEPTH)

    # Sketch28 → Cut-Extrude9 (cut)
    with BuildSketch(Plane.ZY.offset(79.883)):
        Circle(SKETCH28_R)
    extrude(amount=-CUT_EXTRUDE9_DEPTH, mode=Mode.SUBTRACT)

    # CirPattern2: Cut-Extrude7 ×3 about axis
    cirpattern2_axis = Axis((7.265766347, 0, 0), (-1, 0, 0))
    for i in range(1, CIRPATTERN2_COUNT):
        add(cut_extrude7.rotate(cirpattern2_axis, i * 360 / CIRPATTERN2_COUNT), mode=Mode.SUBTRACT)


with BuildPart() as body_2:
    # Sketch15 → Revolve1 (revolve)
    with BuildSketch(Plane(origin=(0, 0, 0), x_dir=(0, -1, 0), z_dir=(0, 0, 1)), mode=Mode.PRIVATE) as revolve1_sk:
        with Locations((23.7998, -1.4986)):
            Circle(SKETCH15_R)
    revolve(revolve1_sk.sketch.rotate(Axis((-3.09372, 0, 0), (1, 0, 0)), 270), axis=Axis((-3.09372, 0, 0), (1, 0, 0)))  # turned: the seam where the file's is


with BuildPart() as body_3:
    # Sketch17 → Revolve3 (revolve)
    with BuildSketch(Plane(origin=(0, 0, 0), x_dir=(0, -1, 0), z_dir=(0, 0, 1)), mode=Mode.PRIVATE) as revolve3_sk:
        with Locations((21.463, -30.27045)):
            Circle(SKETCH17_R)
    revolve(revolve3_sk.sketch.rotate(Axis((-31.750635, 0, 0), (1, 0, 0)), 270), axis=Axis((-31.750635, 0, 0), (1, 0, 0)))  # turned: the seam where the file's is


solid = Compound([part.part, body_2.part, body_3.part])
